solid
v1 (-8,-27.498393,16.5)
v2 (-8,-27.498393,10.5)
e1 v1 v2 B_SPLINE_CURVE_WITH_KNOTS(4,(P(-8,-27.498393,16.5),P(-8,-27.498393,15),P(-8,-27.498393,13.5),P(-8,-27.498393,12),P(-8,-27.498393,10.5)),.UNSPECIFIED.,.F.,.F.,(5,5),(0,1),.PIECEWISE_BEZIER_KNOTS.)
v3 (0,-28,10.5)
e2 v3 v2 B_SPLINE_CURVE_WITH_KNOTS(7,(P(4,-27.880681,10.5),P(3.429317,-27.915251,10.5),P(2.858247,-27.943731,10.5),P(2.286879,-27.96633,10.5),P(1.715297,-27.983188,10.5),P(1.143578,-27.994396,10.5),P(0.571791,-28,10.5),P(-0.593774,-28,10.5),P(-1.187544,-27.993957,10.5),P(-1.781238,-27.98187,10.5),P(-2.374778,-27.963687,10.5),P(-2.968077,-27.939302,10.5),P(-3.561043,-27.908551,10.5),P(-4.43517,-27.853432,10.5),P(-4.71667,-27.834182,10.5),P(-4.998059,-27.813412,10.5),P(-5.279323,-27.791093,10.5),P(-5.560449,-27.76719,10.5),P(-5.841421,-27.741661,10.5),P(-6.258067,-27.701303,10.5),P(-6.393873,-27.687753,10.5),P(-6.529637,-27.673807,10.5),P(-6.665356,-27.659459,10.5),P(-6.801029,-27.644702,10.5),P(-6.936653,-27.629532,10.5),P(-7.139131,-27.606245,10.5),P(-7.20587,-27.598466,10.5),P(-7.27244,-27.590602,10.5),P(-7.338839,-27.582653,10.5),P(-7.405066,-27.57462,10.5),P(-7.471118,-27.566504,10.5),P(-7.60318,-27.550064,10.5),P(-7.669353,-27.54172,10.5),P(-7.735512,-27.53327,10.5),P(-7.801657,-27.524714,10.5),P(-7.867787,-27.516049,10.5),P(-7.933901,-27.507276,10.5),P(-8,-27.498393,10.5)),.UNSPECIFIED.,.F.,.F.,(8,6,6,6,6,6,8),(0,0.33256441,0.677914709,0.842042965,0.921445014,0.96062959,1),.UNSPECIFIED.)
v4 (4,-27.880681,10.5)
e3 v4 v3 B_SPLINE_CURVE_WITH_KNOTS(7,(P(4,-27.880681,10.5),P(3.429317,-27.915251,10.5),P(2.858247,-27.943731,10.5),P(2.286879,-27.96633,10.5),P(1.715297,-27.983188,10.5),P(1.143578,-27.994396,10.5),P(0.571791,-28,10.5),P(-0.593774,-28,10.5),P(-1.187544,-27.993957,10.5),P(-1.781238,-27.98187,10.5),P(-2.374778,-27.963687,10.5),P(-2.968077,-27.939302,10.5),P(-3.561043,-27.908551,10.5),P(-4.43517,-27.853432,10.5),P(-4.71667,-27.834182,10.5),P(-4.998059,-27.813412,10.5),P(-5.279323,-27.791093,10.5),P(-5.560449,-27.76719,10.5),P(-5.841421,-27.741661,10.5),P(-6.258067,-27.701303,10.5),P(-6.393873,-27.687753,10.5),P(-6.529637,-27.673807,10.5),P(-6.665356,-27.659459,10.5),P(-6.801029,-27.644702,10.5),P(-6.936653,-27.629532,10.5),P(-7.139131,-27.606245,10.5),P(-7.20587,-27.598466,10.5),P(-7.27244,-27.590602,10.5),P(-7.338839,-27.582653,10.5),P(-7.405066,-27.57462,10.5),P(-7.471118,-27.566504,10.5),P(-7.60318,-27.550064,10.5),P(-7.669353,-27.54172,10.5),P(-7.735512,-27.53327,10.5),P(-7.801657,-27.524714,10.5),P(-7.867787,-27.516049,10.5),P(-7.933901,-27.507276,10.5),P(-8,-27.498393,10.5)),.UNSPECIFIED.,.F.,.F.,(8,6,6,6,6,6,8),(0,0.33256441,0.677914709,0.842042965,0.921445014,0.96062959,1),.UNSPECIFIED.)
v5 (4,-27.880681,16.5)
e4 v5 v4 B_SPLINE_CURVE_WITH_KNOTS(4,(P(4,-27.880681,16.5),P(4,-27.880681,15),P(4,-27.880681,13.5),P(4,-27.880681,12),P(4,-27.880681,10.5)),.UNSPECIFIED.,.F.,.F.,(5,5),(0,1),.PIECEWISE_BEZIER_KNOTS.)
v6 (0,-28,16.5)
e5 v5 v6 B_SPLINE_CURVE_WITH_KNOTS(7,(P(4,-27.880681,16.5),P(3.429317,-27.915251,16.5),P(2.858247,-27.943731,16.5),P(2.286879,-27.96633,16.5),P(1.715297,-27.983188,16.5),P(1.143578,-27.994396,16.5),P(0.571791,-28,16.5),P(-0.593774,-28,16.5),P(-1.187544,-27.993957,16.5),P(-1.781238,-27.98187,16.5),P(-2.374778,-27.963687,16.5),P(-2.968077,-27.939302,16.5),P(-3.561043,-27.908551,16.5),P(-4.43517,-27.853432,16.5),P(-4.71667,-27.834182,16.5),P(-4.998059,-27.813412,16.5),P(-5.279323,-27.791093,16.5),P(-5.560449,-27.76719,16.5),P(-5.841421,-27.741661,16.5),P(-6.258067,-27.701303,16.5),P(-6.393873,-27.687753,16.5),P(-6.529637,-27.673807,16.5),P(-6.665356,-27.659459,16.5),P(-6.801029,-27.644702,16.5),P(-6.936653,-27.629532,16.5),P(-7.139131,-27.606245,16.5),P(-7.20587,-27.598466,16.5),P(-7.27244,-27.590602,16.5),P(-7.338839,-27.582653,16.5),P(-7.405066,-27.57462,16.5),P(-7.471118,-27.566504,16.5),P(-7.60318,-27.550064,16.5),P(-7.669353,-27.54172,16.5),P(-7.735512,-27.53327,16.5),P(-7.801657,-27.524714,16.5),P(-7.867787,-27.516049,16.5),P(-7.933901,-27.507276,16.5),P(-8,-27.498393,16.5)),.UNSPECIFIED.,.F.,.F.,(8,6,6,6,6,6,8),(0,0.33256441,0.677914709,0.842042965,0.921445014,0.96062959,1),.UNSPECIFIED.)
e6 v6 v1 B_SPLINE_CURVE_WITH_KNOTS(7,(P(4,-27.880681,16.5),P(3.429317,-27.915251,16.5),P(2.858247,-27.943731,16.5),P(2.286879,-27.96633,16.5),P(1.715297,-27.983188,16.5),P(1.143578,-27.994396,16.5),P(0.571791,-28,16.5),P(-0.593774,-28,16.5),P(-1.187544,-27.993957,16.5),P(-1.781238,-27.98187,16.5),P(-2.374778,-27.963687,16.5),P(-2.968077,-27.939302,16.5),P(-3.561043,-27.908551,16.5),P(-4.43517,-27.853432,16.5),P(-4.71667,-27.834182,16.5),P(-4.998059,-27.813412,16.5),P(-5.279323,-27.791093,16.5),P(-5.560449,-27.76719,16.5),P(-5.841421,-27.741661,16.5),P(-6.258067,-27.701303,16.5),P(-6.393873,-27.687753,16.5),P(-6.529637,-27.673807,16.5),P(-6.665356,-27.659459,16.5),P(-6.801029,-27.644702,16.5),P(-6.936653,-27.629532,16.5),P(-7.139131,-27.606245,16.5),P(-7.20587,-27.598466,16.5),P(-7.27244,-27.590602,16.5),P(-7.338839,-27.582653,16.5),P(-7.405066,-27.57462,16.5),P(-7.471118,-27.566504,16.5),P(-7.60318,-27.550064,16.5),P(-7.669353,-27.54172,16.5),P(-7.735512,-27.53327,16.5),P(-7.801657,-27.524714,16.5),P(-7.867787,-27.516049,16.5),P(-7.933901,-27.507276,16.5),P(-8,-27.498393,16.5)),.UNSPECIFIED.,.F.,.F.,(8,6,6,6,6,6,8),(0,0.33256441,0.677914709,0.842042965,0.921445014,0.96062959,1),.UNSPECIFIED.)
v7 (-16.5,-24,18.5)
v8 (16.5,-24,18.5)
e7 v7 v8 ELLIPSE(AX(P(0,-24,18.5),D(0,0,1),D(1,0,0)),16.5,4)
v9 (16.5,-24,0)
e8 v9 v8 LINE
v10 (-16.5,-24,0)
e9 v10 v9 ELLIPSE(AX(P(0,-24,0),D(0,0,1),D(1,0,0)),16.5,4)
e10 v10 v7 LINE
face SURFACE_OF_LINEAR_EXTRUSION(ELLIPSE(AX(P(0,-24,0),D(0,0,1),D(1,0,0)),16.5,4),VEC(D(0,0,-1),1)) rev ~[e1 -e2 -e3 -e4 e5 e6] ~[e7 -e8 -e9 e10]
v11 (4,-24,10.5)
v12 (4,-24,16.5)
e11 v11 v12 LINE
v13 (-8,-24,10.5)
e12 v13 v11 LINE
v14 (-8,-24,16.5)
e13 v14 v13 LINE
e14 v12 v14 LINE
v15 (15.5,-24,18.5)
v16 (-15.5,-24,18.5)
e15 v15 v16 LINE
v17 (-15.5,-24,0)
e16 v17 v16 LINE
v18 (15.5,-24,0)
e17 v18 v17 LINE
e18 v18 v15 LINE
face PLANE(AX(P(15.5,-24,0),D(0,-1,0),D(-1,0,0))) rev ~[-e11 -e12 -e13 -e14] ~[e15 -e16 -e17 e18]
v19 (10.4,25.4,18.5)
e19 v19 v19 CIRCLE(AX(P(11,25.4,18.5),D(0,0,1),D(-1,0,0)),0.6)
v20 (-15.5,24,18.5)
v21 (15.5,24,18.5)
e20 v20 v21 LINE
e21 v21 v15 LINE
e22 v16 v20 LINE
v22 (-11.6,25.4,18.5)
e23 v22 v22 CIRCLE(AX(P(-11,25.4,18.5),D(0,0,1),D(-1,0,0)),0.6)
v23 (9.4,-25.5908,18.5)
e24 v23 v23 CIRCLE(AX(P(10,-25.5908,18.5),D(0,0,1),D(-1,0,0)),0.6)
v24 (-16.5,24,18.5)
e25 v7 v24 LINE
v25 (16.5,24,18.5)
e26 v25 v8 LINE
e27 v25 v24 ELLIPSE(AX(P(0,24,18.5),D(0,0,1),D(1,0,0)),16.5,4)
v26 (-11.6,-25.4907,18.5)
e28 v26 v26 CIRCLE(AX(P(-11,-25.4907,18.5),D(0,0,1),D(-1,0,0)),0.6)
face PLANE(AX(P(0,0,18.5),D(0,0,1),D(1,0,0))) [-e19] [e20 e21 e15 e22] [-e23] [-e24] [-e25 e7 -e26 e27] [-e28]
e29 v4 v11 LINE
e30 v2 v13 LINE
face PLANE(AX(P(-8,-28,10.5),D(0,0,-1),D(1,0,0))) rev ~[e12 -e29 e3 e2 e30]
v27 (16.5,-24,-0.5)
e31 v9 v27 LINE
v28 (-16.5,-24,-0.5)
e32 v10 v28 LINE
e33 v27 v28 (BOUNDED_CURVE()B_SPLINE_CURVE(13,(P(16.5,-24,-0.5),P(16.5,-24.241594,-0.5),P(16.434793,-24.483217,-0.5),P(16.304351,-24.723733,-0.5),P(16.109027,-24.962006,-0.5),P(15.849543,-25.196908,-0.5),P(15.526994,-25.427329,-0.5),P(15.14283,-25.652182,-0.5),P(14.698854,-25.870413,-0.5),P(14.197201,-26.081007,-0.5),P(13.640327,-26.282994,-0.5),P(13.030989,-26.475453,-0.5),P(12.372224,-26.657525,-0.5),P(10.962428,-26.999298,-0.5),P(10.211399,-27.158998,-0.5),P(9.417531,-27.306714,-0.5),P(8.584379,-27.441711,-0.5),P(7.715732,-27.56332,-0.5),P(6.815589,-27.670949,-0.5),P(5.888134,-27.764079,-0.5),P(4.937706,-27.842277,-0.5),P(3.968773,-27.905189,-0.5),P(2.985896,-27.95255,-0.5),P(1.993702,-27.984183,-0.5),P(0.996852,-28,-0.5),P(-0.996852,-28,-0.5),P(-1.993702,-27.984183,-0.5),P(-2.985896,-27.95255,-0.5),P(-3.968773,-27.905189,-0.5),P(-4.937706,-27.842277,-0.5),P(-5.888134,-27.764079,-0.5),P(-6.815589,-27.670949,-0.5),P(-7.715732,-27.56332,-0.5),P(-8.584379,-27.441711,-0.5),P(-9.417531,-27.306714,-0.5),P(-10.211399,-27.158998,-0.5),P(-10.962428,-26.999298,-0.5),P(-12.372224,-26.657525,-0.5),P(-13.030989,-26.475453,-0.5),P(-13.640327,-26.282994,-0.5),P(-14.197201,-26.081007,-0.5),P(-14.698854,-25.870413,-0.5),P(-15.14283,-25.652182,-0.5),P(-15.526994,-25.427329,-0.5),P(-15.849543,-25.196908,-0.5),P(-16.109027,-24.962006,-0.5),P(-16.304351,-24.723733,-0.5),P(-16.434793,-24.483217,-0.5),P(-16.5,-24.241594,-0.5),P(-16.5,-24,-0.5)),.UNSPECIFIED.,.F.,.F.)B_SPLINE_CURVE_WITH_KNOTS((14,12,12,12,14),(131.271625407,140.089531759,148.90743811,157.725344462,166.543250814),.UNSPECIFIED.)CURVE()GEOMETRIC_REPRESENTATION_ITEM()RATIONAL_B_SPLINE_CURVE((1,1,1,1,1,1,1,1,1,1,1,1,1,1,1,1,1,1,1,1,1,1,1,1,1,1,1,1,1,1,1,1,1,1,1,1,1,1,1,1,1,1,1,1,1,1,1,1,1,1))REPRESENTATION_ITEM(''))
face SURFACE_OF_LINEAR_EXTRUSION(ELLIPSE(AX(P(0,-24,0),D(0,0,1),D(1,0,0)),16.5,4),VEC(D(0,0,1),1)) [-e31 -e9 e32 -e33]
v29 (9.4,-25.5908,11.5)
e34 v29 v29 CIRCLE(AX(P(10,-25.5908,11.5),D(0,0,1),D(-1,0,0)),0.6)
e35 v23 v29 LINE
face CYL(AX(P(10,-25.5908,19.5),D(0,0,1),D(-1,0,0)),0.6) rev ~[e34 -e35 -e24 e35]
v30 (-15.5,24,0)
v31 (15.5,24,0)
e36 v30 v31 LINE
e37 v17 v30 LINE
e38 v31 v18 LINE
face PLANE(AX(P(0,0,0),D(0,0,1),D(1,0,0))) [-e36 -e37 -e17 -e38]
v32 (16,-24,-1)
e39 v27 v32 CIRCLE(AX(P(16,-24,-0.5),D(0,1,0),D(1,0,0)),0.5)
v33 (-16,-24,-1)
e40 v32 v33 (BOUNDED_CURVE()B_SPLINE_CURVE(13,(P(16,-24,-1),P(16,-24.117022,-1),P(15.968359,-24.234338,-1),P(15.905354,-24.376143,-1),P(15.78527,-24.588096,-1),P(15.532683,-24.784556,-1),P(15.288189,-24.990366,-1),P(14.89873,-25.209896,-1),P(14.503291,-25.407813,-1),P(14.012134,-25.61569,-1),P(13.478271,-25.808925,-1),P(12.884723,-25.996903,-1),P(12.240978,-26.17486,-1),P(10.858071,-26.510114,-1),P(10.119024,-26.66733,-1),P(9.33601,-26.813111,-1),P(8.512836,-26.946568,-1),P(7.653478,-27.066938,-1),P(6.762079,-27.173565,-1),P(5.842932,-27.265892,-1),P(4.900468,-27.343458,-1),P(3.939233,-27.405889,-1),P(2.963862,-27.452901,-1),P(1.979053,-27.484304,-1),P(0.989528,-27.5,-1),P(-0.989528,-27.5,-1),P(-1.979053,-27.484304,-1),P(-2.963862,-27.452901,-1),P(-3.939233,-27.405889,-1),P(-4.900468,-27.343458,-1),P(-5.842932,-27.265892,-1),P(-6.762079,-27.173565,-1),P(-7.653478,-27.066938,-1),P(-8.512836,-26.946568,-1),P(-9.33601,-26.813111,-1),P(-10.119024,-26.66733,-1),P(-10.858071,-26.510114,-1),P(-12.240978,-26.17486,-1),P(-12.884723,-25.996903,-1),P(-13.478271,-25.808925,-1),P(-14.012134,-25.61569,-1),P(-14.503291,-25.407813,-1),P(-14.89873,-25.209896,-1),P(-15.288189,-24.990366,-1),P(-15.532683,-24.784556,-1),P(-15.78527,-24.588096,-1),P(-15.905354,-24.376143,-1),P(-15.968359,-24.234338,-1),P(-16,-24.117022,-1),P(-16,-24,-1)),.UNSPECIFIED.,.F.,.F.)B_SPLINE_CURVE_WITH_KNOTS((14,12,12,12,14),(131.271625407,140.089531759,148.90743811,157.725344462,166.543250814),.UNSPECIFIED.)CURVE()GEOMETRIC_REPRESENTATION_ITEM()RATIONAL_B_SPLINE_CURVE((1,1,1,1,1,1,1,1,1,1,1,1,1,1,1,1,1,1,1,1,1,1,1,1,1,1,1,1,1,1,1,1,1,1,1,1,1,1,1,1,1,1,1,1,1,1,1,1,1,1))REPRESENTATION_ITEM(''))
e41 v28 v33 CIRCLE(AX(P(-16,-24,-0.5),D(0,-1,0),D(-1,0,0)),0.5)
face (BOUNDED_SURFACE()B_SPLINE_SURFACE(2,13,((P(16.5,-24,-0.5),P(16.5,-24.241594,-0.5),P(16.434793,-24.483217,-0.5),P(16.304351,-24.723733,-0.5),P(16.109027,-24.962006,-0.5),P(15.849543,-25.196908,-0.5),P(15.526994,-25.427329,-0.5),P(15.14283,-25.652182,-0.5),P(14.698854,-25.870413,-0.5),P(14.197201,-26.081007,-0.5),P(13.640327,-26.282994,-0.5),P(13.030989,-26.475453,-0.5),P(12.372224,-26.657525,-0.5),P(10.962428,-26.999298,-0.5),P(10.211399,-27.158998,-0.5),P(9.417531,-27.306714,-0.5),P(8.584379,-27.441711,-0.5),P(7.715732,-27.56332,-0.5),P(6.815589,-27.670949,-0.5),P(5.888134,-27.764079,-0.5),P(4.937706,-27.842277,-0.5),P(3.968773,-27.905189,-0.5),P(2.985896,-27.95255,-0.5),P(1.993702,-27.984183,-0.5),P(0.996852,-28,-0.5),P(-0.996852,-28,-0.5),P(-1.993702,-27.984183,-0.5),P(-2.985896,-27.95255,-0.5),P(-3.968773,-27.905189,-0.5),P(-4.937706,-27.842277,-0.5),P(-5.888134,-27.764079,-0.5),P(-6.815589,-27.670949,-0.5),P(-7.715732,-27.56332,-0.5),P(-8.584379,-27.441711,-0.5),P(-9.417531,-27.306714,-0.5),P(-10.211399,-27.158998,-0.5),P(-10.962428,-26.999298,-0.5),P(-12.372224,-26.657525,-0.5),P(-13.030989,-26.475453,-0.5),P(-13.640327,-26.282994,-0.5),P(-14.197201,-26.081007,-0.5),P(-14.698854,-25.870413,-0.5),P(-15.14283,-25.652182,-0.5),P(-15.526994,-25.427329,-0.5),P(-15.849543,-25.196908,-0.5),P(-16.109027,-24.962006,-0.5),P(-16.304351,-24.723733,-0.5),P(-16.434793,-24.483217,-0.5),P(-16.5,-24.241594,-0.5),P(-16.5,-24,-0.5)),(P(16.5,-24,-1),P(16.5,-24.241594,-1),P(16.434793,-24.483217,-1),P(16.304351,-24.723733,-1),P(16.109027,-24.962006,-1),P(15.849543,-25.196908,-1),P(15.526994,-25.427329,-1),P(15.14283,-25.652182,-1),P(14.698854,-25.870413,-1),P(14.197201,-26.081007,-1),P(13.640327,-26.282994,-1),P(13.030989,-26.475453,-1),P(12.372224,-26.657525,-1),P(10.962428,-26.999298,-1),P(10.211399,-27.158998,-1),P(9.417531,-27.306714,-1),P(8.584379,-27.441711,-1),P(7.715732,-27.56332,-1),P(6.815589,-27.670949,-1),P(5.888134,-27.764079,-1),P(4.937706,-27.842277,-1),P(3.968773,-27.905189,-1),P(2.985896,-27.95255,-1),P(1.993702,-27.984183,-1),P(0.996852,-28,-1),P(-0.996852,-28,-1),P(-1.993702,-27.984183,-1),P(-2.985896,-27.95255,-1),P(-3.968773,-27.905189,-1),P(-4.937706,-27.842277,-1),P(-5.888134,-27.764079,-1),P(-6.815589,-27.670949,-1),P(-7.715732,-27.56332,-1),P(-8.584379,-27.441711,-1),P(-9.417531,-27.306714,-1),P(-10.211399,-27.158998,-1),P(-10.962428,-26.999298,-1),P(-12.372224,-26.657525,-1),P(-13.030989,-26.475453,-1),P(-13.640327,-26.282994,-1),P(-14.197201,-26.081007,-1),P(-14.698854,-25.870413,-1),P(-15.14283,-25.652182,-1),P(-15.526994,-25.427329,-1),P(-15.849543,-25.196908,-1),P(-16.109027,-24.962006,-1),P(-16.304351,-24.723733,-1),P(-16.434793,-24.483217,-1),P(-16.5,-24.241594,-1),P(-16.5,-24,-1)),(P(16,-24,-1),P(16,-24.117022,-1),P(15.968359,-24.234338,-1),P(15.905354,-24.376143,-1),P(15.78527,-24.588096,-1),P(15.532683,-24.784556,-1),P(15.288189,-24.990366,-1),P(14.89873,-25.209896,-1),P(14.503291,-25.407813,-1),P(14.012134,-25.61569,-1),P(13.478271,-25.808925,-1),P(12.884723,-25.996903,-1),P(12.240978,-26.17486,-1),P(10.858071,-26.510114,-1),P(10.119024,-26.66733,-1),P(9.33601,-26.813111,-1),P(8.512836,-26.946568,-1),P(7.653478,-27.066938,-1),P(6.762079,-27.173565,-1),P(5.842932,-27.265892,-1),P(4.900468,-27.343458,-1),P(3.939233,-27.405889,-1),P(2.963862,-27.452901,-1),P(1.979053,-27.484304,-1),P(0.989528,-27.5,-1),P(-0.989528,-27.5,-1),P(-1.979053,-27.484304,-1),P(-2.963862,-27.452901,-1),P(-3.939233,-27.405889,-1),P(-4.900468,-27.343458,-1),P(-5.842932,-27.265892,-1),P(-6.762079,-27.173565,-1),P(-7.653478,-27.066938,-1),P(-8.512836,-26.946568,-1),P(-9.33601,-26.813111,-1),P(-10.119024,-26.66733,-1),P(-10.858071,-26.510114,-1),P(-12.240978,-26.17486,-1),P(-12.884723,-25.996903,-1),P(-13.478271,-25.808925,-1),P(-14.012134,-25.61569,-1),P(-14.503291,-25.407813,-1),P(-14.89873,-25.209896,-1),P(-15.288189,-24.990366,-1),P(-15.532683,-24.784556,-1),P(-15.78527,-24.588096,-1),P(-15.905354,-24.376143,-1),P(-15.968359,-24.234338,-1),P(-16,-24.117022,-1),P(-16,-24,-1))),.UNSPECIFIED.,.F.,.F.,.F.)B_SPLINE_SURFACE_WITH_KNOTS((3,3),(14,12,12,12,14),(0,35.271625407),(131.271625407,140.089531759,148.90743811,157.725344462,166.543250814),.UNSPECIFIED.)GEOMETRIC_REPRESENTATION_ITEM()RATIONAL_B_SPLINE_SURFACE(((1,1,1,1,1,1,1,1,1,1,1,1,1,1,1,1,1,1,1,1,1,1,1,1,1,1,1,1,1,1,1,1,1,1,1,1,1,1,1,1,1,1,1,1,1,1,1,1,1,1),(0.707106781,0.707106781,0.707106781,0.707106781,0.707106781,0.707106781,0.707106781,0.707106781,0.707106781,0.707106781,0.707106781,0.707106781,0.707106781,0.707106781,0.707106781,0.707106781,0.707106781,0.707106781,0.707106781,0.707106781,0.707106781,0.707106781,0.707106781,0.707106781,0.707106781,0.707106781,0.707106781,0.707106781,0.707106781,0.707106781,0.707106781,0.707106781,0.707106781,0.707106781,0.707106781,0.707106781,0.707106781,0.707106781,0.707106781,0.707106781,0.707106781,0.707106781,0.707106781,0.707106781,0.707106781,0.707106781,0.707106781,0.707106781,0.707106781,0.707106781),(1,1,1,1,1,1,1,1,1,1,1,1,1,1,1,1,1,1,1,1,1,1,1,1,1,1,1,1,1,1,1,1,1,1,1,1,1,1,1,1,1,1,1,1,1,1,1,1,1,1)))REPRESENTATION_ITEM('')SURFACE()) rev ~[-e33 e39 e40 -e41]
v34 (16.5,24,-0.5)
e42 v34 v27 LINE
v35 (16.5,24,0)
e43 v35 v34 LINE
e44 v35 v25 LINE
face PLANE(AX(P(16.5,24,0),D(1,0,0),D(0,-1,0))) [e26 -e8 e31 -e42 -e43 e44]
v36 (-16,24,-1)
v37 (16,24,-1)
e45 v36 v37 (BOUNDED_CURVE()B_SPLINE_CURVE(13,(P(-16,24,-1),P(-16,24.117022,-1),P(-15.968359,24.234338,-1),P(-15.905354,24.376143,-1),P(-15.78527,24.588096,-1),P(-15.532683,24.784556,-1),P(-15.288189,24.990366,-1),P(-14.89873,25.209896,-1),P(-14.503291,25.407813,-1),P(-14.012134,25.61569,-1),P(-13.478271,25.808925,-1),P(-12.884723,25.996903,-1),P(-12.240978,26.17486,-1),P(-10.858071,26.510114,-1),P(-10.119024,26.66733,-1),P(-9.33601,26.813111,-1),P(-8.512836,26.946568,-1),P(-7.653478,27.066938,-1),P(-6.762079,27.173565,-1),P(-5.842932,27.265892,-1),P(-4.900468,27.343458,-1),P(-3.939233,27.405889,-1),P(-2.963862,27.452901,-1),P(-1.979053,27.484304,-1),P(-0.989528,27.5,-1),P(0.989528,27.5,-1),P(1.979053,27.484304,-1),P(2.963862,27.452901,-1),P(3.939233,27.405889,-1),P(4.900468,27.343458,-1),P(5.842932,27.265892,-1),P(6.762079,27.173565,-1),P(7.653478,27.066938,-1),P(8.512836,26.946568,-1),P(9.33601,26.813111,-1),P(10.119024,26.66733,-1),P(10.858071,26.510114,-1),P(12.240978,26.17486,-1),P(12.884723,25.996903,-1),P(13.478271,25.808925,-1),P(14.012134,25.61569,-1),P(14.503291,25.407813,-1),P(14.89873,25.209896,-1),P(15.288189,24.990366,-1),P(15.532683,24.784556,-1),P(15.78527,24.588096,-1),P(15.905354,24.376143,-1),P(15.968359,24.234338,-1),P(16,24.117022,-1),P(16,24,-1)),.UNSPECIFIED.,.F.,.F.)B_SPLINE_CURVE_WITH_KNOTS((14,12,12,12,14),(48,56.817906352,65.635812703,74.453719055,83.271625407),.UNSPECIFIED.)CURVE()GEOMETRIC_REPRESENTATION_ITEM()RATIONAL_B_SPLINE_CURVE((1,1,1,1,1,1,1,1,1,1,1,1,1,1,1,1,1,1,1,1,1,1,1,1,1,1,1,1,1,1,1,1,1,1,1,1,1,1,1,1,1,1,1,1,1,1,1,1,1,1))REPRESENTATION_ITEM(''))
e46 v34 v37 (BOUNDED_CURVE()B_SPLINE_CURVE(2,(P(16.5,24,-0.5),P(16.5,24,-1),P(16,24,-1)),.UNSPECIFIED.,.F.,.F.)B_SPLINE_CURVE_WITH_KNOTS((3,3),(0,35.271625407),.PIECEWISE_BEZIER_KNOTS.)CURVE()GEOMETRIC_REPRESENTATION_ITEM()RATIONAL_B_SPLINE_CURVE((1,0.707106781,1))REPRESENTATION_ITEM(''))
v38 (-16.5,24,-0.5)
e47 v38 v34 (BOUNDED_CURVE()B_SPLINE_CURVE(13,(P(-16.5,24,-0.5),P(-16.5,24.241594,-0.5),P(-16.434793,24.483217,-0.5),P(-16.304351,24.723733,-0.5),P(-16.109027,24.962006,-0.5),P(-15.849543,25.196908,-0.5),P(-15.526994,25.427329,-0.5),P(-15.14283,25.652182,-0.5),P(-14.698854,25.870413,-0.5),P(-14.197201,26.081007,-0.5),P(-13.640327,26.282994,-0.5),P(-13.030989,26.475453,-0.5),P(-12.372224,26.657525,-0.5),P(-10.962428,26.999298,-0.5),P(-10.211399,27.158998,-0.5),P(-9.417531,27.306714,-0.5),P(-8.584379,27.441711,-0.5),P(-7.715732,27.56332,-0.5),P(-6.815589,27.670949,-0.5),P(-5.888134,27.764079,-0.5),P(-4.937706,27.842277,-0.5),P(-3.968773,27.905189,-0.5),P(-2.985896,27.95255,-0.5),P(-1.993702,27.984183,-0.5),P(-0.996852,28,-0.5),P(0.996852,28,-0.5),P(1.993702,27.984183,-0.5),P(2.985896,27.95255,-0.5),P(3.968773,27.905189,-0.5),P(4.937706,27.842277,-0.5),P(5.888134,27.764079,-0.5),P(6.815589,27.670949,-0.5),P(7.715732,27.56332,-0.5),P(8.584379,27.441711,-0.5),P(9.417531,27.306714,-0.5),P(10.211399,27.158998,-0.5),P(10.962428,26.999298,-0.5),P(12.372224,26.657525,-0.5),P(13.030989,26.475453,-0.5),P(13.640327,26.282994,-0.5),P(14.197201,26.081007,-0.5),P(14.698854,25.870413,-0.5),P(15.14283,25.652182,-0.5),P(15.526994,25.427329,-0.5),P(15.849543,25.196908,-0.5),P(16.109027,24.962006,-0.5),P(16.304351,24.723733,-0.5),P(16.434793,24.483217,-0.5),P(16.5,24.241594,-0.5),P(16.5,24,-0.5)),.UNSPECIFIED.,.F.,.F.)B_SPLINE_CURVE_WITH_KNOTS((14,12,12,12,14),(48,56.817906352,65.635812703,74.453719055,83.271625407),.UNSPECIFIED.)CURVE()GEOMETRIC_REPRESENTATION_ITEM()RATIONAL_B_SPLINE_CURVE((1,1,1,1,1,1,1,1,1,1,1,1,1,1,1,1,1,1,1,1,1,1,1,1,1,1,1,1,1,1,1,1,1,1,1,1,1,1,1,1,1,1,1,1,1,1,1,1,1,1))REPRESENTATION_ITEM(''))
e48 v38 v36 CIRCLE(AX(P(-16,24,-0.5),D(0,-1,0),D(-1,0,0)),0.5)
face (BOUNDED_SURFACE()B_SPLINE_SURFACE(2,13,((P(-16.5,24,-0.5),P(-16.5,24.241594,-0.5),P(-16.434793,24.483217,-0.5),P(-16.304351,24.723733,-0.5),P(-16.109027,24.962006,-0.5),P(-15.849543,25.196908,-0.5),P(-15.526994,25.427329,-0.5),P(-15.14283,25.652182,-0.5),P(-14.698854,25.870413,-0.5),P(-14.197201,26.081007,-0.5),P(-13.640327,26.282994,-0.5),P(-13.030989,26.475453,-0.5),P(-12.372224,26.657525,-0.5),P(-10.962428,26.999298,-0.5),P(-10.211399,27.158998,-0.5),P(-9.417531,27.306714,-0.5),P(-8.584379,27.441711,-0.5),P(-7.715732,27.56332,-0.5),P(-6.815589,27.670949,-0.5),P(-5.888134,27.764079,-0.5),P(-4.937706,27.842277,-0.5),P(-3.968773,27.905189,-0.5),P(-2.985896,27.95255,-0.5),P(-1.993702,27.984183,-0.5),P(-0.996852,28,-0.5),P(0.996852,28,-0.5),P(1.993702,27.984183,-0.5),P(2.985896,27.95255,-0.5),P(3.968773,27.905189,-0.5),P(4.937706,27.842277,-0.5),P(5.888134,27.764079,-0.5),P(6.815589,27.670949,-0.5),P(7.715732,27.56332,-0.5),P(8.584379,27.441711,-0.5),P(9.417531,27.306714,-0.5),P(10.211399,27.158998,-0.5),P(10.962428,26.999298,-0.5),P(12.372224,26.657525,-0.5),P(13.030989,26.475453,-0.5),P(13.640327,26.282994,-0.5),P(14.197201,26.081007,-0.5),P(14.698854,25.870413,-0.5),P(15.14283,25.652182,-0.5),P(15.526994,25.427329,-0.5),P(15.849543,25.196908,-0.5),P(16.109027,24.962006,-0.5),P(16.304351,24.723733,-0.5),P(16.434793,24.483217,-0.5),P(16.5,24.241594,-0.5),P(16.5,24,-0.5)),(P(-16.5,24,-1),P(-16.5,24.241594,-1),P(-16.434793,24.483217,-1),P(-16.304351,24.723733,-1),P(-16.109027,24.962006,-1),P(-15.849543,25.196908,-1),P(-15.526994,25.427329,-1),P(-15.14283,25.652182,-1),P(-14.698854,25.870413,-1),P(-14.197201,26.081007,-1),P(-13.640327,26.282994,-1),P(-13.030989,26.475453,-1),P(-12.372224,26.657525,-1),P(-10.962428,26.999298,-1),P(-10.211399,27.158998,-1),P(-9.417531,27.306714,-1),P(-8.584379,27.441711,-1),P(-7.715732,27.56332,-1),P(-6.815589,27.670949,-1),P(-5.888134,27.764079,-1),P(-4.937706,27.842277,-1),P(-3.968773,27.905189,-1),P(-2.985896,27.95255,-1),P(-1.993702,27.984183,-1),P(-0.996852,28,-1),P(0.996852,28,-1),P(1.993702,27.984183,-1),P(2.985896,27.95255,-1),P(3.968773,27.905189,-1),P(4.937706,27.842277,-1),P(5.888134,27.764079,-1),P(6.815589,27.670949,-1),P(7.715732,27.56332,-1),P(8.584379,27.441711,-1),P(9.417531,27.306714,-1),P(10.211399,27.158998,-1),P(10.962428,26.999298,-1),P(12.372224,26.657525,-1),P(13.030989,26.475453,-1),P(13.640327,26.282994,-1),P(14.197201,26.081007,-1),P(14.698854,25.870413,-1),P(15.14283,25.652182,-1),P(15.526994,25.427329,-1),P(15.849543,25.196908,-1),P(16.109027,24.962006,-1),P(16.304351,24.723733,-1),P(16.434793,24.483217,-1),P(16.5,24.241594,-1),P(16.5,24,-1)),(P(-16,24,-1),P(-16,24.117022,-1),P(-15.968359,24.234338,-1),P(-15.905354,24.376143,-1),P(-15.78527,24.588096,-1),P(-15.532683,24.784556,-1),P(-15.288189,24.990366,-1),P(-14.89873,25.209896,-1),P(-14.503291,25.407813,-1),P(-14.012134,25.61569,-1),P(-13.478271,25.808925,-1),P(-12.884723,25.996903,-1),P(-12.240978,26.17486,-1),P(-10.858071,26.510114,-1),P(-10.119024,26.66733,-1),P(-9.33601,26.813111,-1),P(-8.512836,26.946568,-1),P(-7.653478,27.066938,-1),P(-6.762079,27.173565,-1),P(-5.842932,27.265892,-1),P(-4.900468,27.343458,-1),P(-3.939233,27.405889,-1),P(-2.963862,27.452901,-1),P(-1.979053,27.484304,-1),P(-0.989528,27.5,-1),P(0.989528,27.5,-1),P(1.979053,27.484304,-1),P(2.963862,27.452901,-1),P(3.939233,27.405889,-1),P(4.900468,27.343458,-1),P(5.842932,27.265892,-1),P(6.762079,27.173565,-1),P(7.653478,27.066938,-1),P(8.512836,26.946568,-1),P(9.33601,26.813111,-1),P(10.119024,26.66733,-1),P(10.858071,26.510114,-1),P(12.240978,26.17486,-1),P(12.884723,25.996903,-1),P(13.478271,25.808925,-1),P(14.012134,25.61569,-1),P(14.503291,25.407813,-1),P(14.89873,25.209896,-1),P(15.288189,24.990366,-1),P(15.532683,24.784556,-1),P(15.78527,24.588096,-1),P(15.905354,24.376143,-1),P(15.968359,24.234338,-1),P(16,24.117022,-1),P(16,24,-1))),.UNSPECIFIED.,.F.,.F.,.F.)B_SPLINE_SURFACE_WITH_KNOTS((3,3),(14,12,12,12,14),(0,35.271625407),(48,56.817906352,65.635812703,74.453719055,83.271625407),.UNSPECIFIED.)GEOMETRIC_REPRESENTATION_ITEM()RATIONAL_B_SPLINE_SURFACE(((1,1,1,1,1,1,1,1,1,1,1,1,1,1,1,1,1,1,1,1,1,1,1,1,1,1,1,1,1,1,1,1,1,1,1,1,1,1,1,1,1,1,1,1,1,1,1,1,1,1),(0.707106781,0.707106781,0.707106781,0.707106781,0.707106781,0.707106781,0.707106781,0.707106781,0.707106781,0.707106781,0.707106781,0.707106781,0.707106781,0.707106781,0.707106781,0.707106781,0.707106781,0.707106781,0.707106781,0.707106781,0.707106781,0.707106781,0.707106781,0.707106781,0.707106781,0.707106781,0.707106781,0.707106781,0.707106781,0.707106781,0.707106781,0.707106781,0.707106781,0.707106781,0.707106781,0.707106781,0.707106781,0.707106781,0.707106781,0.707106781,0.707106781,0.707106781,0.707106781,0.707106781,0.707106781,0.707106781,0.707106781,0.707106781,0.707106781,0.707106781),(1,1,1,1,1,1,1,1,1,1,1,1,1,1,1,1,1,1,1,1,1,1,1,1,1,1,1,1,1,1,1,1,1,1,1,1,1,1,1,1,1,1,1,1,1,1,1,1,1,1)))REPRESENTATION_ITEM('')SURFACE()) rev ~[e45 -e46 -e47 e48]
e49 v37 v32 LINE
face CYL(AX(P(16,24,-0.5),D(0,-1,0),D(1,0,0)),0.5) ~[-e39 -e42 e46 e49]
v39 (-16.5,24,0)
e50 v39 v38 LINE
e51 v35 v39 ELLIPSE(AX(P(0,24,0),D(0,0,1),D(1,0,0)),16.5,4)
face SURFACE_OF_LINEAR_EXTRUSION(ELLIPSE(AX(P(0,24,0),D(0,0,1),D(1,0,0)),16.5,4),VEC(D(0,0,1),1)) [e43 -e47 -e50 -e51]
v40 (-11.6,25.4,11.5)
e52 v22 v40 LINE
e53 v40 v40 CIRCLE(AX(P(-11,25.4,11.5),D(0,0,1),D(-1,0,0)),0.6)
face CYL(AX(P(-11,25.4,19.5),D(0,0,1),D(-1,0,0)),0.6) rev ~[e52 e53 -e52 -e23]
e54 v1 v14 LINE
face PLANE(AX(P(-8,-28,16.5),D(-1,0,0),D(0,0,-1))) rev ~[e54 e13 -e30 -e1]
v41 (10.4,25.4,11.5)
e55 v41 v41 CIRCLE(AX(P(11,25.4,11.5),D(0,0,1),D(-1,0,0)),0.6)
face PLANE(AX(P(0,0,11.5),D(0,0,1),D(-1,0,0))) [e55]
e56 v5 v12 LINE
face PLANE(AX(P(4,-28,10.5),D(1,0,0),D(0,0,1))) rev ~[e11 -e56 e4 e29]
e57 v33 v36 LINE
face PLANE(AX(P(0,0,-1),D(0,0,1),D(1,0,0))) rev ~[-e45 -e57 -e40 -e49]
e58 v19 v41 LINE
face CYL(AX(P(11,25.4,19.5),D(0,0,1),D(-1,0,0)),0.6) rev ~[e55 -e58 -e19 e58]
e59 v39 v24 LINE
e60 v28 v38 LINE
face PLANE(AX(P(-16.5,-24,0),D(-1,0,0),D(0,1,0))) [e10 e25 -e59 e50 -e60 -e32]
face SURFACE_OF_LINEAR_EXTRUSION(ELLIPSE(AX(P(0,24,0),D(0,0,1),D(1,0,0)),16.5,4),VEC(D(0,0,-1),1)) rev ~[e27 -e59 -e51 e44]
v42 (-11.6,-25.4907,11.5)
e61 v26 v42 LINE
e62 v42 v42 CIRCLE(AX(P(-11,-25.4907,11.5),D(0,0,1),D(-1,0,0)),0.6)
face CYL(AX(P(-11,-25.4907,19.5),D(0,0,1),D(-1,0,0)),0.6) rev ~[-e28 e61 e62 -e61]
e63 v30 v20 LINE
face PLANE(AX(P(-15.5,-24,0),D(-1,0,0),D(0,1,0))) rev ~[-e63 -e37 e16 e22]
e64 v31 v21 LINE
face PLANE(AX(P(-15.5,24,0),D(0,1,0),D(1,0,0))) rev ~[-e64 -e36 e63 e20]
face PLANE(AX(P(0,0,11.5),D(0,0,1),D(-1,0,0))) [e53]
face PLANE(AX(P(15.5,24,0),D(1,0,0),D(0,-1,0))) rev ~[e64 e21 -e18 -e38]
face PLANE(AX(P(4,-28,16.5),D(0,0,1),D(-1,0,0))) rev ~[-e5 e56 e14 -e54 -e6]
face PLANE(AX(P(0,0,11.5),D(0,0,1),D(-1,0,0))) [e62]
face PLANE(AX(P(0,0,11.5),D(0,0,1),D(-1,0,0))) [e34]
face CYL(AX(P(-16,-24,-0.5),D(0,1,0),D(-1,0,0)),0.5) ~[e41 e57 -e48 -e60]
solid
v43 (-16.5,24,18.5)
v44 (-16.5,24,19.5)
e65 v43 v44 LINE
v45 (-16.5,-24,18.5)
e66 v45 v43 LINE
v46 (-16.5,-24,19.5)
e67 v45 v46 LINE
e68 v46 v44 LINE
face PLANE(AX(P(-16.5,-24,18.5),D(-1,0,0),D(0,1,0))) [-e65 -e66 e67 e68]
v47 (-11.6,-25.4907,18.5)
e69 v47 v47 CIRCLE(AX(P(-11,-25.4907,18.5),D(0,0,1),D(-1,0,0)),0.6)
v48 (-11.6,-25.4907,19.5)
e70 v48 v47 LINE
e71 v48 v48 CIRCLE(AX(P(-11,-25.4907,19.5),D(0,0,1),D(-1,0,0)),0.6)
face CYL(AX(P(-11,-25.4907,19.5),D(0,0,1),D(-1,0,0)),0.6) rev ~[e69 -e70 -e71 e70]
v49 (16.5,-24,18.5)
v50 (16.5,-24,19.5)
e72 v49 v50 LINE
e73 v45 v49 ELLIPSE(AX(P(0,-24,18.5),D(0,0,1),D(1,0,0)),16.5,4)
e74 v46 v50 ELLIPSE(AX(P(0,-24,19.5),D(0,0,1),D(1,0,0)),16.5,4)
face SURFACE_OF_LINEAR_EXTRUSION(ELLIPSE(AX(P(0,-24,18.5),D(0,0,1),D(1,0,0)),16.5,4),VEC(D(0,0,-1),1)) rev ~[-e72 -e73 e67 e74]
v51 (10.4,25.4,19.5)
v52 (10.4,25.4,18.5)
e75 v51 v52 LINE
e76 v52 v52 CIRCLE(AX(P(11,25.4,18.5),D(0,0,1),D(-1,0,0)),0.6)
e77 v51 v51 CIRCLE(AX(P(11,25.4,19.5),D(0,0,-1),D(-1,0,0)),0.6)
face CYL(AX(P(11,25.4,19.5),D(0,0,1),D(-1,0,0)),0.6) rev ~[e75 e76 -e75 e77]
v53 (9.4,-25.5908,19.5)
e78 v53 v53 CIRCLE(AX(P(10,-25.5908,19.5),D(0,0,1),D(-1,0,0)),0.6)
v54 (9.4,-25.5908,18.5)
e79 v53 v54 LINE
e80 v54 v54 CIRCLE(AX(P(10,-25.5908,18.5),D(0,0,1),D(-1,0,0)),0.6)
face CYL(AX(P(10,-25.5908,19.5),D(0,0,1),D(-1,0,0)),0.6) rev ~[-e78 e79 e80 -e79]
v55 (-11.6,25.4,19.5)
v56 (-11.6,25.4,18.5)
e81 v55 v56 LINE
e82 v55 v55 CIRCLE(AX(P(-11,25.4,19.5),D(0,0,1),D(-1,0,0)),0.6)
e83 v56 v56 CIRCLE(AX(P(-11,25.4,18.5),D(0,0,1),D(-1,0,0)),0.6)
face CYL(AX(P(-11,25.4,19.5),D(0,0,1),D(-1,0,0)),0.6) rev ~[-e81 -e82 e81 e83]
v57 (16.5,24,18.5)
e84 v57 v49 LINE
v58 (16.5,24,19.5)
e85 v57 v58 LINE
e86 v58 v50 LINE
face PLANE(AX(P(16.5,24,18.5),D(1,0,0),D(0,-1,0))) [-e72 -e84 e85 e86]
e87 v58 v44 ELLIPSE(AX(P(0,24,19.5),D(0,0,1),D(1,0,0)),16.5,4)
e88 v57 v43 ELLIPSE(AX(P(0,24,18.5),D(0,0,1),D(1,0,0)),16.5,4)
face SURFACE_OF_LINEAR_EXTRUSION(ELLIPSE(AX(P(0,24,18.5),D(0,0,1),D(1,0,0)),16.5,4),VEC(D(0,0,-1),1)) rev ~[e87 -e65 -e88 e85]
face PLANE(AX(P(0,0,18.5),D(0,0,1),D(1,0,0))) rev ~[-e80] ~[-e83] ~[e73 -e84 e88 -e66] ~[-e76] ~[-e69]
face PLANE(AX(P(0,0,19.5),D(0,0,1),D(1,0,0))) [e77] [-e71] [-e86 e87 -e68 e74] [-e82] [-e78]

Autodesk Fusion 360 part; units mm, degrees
sketch "Boceto1" plane through (0, 0, 0) normal (0, 0, 1) x (1, 0, 0)
  line L0 (15.5, -24) -> (-15.5, -24)
  line L1 (-15.5, -24) -> (-15.5, 24)
  line L2 (-15.5, 24) -> (15.5, 24)
  line L3 (15.5, 24) -> (15.5, -24)
  line L4 (15.5, -24) -> (-15.5, 24) construction
  line L5 (-15.5, -24) -> (15.5, 24) construction
  line L6 (-16.5, -24) -> (-16.5, 24)
  line L7 (16.5, 24) -> (16.5, -24)
  line L8 (16.5, -25) -> (-16.2747, 24.6587) construction
  line L9 (-16.5, -25) -> (16.2747, 24.6587) construction
  ellipse E0 centre (0, 24) end of major axis (16.5, 24) minor radius 4 (16.5, 24) -> (-16.5, 24) ccw
  ellipse E1 centre (0, -24) end of major axis (16.5, -24) minor radius 4 (-16.5, -24) -> (16.5, -24) ccw
  dimension "d1" = 31
  dimension "d2" = 48
  dimension "d6" = 8
extrude "Extruir1" add sketch "Boceto1" against normal blind 1 contours L0 L1 L2 L3 | L6 L7 E0 E1 makes body 1
extrude "Extruir2" add sketch "Boceto1" along normal blind 0.8 from surface at 30 separate body contours L0 L1 L2 L3 makes body 2
extrude "Extruir3" add sketch "Boceto1" along normal blind 18.5 bodies 1
extrude "Extruir4" add sketch "Boceto1" along normal blind 1 from surface at 18.5 separate body contours L0 L1 L2 L3 | L6 L7 E0 E1 makes body 3
ref_plane "PlanoDeObra1" through (0, -28, 0) normal (0, 1, 0) x (0, 0, 1)
sketch "Boceto4" plane through (0, -28, 0) normal (0, 1, 0) x (1, 0, 0)
  line L0 (-16.5, -18.5) -> (-16.5, 1)
  line L1 (16.5, 1) -> (-16.5, 1)
  line L2 (16.5, 1) -> (16.5, -18.5)
  line L3 (-16.5, -18.5) -> (16.5, -18.5)
  line L4 (-16.5, -18.5) -> (16.5, -18.5)
  line L5 (16.5, -18.5) -> (16.5, -19.5)
  line L6 (-16.5, -19.5) -> (16.5, -19.5)
  line L7 (-16.5, -19.5) -> (-16.5, -18.5)
  line L8 (0, -19.5) -> (-14, -19.5) construction
  line L9 (-14, -19.5) -> (-14, -12.5) construction
  line L10 (-14, -12.5) -> (0, -12.5) construction
  line L11 (0, -19.5) -> (0, -12.5) construction
  line L12 (-14, -12.5) -> (-14, -10.5) construction
  line L13 (-14, -10.5) -> (-8, -10.5) construction
  line L14 (-8, -10.5) -> (4, -10.5)
  line L15 (4, -10.5) -> (4, -16.5)
  line L16 (4, -16.5) -> (-8, -16.5)
  line L17 (-8, -16.5) -> (-8, -10.5)
  dimension "d18" = 14
  dimension "d19" = 7
  dimension "d20" = 14
  dimension "d40" = 2
  dimension "d41" = 6
  dimension "d43" = 12
  dimension "d44" = 6
extrude "Extruir5" cut sketch "Boceto4" along normal blind 6 contours L14 L15 L16 L17 bodies 1
fillet "Empalme1" radius 0.5 4 edges at (-16.5, 0, -1) (0, 28, -1) (16.5, 0, -1) (0, -28, -1) on bodies 1
sketch "Boceto6" plane through (0, 0, 19.5) normal (0, 0, 1) x (-1, 0, 0)
  line L0 (-16.5, 24) -> (-16.5, -24)
  ellipse E0 centre (0, -24) end of major axis (-16.5, -24) minor radius 4 (-16.5, -24) -> (16.5, -24) ccw
  line L1 (16.5, -24) -> (16.5, 24)
  ellipse E1 centre (0, 24) end of major axis (-16.5, 24) minor radius 4 (16.5, 24) -> (-16.5, 24) ccw
  line L2 (15.5, -24) -> (-15.5, -24)
  line L3 (-15.5, 24) -> (15.5, 24)
  line L4 (0, -24) -> (0, -28) construction
  line L5 (0, -25.073) -> (11, -25.073) construction
  line L6 (0, -25.073) -> (-11, -25.073) construction
  line L7 (-11, -25.073) -> (-11, -24) construction
  line L8 (11, -25.073) -> (11, -24) construction
  line L9 (-11, -24) -> (-11, -25.4)
  circle A0 centre (-11, -25.4) radius 0.6
  line L10 (11, -24) -> (11, -25.4) construction
  circle A1 centre (11, -25.4) radius 0.6
  line L11 (0, 24) -> (-10, 24) construction
  line L12 (-10, 24) -> (-10, 27.1817) construction
  line L13 (0, 24) -> (11, 24) construction
  line L14 (11, 24) -> (11, 26.9814) construction
  circle A2 centre (11, 25.4907) radius 0.6
  circle A3 centre (-10, 25.5908) radius 0.6
  dimension "d31" = 11
  dimension "d32" = 11
  dimension "d34" = 1.4
  dimension "d35" = 1.2
  dimension "d36" = 1.4
  dimension "d37" = 1.2
  dimension "d46" = 10
  dimension "d47" = 11
  dimension "d48" = 1.2
  dimension "d49" = 1.2
extrude "Extruir7" cut sketch "Boceto6" against normal blind 8 contours A0 | A1 | A2 | A3 bodies 1 3
hidden bodies 2
equation "d12 = 12 mm + 6.5 mm"
